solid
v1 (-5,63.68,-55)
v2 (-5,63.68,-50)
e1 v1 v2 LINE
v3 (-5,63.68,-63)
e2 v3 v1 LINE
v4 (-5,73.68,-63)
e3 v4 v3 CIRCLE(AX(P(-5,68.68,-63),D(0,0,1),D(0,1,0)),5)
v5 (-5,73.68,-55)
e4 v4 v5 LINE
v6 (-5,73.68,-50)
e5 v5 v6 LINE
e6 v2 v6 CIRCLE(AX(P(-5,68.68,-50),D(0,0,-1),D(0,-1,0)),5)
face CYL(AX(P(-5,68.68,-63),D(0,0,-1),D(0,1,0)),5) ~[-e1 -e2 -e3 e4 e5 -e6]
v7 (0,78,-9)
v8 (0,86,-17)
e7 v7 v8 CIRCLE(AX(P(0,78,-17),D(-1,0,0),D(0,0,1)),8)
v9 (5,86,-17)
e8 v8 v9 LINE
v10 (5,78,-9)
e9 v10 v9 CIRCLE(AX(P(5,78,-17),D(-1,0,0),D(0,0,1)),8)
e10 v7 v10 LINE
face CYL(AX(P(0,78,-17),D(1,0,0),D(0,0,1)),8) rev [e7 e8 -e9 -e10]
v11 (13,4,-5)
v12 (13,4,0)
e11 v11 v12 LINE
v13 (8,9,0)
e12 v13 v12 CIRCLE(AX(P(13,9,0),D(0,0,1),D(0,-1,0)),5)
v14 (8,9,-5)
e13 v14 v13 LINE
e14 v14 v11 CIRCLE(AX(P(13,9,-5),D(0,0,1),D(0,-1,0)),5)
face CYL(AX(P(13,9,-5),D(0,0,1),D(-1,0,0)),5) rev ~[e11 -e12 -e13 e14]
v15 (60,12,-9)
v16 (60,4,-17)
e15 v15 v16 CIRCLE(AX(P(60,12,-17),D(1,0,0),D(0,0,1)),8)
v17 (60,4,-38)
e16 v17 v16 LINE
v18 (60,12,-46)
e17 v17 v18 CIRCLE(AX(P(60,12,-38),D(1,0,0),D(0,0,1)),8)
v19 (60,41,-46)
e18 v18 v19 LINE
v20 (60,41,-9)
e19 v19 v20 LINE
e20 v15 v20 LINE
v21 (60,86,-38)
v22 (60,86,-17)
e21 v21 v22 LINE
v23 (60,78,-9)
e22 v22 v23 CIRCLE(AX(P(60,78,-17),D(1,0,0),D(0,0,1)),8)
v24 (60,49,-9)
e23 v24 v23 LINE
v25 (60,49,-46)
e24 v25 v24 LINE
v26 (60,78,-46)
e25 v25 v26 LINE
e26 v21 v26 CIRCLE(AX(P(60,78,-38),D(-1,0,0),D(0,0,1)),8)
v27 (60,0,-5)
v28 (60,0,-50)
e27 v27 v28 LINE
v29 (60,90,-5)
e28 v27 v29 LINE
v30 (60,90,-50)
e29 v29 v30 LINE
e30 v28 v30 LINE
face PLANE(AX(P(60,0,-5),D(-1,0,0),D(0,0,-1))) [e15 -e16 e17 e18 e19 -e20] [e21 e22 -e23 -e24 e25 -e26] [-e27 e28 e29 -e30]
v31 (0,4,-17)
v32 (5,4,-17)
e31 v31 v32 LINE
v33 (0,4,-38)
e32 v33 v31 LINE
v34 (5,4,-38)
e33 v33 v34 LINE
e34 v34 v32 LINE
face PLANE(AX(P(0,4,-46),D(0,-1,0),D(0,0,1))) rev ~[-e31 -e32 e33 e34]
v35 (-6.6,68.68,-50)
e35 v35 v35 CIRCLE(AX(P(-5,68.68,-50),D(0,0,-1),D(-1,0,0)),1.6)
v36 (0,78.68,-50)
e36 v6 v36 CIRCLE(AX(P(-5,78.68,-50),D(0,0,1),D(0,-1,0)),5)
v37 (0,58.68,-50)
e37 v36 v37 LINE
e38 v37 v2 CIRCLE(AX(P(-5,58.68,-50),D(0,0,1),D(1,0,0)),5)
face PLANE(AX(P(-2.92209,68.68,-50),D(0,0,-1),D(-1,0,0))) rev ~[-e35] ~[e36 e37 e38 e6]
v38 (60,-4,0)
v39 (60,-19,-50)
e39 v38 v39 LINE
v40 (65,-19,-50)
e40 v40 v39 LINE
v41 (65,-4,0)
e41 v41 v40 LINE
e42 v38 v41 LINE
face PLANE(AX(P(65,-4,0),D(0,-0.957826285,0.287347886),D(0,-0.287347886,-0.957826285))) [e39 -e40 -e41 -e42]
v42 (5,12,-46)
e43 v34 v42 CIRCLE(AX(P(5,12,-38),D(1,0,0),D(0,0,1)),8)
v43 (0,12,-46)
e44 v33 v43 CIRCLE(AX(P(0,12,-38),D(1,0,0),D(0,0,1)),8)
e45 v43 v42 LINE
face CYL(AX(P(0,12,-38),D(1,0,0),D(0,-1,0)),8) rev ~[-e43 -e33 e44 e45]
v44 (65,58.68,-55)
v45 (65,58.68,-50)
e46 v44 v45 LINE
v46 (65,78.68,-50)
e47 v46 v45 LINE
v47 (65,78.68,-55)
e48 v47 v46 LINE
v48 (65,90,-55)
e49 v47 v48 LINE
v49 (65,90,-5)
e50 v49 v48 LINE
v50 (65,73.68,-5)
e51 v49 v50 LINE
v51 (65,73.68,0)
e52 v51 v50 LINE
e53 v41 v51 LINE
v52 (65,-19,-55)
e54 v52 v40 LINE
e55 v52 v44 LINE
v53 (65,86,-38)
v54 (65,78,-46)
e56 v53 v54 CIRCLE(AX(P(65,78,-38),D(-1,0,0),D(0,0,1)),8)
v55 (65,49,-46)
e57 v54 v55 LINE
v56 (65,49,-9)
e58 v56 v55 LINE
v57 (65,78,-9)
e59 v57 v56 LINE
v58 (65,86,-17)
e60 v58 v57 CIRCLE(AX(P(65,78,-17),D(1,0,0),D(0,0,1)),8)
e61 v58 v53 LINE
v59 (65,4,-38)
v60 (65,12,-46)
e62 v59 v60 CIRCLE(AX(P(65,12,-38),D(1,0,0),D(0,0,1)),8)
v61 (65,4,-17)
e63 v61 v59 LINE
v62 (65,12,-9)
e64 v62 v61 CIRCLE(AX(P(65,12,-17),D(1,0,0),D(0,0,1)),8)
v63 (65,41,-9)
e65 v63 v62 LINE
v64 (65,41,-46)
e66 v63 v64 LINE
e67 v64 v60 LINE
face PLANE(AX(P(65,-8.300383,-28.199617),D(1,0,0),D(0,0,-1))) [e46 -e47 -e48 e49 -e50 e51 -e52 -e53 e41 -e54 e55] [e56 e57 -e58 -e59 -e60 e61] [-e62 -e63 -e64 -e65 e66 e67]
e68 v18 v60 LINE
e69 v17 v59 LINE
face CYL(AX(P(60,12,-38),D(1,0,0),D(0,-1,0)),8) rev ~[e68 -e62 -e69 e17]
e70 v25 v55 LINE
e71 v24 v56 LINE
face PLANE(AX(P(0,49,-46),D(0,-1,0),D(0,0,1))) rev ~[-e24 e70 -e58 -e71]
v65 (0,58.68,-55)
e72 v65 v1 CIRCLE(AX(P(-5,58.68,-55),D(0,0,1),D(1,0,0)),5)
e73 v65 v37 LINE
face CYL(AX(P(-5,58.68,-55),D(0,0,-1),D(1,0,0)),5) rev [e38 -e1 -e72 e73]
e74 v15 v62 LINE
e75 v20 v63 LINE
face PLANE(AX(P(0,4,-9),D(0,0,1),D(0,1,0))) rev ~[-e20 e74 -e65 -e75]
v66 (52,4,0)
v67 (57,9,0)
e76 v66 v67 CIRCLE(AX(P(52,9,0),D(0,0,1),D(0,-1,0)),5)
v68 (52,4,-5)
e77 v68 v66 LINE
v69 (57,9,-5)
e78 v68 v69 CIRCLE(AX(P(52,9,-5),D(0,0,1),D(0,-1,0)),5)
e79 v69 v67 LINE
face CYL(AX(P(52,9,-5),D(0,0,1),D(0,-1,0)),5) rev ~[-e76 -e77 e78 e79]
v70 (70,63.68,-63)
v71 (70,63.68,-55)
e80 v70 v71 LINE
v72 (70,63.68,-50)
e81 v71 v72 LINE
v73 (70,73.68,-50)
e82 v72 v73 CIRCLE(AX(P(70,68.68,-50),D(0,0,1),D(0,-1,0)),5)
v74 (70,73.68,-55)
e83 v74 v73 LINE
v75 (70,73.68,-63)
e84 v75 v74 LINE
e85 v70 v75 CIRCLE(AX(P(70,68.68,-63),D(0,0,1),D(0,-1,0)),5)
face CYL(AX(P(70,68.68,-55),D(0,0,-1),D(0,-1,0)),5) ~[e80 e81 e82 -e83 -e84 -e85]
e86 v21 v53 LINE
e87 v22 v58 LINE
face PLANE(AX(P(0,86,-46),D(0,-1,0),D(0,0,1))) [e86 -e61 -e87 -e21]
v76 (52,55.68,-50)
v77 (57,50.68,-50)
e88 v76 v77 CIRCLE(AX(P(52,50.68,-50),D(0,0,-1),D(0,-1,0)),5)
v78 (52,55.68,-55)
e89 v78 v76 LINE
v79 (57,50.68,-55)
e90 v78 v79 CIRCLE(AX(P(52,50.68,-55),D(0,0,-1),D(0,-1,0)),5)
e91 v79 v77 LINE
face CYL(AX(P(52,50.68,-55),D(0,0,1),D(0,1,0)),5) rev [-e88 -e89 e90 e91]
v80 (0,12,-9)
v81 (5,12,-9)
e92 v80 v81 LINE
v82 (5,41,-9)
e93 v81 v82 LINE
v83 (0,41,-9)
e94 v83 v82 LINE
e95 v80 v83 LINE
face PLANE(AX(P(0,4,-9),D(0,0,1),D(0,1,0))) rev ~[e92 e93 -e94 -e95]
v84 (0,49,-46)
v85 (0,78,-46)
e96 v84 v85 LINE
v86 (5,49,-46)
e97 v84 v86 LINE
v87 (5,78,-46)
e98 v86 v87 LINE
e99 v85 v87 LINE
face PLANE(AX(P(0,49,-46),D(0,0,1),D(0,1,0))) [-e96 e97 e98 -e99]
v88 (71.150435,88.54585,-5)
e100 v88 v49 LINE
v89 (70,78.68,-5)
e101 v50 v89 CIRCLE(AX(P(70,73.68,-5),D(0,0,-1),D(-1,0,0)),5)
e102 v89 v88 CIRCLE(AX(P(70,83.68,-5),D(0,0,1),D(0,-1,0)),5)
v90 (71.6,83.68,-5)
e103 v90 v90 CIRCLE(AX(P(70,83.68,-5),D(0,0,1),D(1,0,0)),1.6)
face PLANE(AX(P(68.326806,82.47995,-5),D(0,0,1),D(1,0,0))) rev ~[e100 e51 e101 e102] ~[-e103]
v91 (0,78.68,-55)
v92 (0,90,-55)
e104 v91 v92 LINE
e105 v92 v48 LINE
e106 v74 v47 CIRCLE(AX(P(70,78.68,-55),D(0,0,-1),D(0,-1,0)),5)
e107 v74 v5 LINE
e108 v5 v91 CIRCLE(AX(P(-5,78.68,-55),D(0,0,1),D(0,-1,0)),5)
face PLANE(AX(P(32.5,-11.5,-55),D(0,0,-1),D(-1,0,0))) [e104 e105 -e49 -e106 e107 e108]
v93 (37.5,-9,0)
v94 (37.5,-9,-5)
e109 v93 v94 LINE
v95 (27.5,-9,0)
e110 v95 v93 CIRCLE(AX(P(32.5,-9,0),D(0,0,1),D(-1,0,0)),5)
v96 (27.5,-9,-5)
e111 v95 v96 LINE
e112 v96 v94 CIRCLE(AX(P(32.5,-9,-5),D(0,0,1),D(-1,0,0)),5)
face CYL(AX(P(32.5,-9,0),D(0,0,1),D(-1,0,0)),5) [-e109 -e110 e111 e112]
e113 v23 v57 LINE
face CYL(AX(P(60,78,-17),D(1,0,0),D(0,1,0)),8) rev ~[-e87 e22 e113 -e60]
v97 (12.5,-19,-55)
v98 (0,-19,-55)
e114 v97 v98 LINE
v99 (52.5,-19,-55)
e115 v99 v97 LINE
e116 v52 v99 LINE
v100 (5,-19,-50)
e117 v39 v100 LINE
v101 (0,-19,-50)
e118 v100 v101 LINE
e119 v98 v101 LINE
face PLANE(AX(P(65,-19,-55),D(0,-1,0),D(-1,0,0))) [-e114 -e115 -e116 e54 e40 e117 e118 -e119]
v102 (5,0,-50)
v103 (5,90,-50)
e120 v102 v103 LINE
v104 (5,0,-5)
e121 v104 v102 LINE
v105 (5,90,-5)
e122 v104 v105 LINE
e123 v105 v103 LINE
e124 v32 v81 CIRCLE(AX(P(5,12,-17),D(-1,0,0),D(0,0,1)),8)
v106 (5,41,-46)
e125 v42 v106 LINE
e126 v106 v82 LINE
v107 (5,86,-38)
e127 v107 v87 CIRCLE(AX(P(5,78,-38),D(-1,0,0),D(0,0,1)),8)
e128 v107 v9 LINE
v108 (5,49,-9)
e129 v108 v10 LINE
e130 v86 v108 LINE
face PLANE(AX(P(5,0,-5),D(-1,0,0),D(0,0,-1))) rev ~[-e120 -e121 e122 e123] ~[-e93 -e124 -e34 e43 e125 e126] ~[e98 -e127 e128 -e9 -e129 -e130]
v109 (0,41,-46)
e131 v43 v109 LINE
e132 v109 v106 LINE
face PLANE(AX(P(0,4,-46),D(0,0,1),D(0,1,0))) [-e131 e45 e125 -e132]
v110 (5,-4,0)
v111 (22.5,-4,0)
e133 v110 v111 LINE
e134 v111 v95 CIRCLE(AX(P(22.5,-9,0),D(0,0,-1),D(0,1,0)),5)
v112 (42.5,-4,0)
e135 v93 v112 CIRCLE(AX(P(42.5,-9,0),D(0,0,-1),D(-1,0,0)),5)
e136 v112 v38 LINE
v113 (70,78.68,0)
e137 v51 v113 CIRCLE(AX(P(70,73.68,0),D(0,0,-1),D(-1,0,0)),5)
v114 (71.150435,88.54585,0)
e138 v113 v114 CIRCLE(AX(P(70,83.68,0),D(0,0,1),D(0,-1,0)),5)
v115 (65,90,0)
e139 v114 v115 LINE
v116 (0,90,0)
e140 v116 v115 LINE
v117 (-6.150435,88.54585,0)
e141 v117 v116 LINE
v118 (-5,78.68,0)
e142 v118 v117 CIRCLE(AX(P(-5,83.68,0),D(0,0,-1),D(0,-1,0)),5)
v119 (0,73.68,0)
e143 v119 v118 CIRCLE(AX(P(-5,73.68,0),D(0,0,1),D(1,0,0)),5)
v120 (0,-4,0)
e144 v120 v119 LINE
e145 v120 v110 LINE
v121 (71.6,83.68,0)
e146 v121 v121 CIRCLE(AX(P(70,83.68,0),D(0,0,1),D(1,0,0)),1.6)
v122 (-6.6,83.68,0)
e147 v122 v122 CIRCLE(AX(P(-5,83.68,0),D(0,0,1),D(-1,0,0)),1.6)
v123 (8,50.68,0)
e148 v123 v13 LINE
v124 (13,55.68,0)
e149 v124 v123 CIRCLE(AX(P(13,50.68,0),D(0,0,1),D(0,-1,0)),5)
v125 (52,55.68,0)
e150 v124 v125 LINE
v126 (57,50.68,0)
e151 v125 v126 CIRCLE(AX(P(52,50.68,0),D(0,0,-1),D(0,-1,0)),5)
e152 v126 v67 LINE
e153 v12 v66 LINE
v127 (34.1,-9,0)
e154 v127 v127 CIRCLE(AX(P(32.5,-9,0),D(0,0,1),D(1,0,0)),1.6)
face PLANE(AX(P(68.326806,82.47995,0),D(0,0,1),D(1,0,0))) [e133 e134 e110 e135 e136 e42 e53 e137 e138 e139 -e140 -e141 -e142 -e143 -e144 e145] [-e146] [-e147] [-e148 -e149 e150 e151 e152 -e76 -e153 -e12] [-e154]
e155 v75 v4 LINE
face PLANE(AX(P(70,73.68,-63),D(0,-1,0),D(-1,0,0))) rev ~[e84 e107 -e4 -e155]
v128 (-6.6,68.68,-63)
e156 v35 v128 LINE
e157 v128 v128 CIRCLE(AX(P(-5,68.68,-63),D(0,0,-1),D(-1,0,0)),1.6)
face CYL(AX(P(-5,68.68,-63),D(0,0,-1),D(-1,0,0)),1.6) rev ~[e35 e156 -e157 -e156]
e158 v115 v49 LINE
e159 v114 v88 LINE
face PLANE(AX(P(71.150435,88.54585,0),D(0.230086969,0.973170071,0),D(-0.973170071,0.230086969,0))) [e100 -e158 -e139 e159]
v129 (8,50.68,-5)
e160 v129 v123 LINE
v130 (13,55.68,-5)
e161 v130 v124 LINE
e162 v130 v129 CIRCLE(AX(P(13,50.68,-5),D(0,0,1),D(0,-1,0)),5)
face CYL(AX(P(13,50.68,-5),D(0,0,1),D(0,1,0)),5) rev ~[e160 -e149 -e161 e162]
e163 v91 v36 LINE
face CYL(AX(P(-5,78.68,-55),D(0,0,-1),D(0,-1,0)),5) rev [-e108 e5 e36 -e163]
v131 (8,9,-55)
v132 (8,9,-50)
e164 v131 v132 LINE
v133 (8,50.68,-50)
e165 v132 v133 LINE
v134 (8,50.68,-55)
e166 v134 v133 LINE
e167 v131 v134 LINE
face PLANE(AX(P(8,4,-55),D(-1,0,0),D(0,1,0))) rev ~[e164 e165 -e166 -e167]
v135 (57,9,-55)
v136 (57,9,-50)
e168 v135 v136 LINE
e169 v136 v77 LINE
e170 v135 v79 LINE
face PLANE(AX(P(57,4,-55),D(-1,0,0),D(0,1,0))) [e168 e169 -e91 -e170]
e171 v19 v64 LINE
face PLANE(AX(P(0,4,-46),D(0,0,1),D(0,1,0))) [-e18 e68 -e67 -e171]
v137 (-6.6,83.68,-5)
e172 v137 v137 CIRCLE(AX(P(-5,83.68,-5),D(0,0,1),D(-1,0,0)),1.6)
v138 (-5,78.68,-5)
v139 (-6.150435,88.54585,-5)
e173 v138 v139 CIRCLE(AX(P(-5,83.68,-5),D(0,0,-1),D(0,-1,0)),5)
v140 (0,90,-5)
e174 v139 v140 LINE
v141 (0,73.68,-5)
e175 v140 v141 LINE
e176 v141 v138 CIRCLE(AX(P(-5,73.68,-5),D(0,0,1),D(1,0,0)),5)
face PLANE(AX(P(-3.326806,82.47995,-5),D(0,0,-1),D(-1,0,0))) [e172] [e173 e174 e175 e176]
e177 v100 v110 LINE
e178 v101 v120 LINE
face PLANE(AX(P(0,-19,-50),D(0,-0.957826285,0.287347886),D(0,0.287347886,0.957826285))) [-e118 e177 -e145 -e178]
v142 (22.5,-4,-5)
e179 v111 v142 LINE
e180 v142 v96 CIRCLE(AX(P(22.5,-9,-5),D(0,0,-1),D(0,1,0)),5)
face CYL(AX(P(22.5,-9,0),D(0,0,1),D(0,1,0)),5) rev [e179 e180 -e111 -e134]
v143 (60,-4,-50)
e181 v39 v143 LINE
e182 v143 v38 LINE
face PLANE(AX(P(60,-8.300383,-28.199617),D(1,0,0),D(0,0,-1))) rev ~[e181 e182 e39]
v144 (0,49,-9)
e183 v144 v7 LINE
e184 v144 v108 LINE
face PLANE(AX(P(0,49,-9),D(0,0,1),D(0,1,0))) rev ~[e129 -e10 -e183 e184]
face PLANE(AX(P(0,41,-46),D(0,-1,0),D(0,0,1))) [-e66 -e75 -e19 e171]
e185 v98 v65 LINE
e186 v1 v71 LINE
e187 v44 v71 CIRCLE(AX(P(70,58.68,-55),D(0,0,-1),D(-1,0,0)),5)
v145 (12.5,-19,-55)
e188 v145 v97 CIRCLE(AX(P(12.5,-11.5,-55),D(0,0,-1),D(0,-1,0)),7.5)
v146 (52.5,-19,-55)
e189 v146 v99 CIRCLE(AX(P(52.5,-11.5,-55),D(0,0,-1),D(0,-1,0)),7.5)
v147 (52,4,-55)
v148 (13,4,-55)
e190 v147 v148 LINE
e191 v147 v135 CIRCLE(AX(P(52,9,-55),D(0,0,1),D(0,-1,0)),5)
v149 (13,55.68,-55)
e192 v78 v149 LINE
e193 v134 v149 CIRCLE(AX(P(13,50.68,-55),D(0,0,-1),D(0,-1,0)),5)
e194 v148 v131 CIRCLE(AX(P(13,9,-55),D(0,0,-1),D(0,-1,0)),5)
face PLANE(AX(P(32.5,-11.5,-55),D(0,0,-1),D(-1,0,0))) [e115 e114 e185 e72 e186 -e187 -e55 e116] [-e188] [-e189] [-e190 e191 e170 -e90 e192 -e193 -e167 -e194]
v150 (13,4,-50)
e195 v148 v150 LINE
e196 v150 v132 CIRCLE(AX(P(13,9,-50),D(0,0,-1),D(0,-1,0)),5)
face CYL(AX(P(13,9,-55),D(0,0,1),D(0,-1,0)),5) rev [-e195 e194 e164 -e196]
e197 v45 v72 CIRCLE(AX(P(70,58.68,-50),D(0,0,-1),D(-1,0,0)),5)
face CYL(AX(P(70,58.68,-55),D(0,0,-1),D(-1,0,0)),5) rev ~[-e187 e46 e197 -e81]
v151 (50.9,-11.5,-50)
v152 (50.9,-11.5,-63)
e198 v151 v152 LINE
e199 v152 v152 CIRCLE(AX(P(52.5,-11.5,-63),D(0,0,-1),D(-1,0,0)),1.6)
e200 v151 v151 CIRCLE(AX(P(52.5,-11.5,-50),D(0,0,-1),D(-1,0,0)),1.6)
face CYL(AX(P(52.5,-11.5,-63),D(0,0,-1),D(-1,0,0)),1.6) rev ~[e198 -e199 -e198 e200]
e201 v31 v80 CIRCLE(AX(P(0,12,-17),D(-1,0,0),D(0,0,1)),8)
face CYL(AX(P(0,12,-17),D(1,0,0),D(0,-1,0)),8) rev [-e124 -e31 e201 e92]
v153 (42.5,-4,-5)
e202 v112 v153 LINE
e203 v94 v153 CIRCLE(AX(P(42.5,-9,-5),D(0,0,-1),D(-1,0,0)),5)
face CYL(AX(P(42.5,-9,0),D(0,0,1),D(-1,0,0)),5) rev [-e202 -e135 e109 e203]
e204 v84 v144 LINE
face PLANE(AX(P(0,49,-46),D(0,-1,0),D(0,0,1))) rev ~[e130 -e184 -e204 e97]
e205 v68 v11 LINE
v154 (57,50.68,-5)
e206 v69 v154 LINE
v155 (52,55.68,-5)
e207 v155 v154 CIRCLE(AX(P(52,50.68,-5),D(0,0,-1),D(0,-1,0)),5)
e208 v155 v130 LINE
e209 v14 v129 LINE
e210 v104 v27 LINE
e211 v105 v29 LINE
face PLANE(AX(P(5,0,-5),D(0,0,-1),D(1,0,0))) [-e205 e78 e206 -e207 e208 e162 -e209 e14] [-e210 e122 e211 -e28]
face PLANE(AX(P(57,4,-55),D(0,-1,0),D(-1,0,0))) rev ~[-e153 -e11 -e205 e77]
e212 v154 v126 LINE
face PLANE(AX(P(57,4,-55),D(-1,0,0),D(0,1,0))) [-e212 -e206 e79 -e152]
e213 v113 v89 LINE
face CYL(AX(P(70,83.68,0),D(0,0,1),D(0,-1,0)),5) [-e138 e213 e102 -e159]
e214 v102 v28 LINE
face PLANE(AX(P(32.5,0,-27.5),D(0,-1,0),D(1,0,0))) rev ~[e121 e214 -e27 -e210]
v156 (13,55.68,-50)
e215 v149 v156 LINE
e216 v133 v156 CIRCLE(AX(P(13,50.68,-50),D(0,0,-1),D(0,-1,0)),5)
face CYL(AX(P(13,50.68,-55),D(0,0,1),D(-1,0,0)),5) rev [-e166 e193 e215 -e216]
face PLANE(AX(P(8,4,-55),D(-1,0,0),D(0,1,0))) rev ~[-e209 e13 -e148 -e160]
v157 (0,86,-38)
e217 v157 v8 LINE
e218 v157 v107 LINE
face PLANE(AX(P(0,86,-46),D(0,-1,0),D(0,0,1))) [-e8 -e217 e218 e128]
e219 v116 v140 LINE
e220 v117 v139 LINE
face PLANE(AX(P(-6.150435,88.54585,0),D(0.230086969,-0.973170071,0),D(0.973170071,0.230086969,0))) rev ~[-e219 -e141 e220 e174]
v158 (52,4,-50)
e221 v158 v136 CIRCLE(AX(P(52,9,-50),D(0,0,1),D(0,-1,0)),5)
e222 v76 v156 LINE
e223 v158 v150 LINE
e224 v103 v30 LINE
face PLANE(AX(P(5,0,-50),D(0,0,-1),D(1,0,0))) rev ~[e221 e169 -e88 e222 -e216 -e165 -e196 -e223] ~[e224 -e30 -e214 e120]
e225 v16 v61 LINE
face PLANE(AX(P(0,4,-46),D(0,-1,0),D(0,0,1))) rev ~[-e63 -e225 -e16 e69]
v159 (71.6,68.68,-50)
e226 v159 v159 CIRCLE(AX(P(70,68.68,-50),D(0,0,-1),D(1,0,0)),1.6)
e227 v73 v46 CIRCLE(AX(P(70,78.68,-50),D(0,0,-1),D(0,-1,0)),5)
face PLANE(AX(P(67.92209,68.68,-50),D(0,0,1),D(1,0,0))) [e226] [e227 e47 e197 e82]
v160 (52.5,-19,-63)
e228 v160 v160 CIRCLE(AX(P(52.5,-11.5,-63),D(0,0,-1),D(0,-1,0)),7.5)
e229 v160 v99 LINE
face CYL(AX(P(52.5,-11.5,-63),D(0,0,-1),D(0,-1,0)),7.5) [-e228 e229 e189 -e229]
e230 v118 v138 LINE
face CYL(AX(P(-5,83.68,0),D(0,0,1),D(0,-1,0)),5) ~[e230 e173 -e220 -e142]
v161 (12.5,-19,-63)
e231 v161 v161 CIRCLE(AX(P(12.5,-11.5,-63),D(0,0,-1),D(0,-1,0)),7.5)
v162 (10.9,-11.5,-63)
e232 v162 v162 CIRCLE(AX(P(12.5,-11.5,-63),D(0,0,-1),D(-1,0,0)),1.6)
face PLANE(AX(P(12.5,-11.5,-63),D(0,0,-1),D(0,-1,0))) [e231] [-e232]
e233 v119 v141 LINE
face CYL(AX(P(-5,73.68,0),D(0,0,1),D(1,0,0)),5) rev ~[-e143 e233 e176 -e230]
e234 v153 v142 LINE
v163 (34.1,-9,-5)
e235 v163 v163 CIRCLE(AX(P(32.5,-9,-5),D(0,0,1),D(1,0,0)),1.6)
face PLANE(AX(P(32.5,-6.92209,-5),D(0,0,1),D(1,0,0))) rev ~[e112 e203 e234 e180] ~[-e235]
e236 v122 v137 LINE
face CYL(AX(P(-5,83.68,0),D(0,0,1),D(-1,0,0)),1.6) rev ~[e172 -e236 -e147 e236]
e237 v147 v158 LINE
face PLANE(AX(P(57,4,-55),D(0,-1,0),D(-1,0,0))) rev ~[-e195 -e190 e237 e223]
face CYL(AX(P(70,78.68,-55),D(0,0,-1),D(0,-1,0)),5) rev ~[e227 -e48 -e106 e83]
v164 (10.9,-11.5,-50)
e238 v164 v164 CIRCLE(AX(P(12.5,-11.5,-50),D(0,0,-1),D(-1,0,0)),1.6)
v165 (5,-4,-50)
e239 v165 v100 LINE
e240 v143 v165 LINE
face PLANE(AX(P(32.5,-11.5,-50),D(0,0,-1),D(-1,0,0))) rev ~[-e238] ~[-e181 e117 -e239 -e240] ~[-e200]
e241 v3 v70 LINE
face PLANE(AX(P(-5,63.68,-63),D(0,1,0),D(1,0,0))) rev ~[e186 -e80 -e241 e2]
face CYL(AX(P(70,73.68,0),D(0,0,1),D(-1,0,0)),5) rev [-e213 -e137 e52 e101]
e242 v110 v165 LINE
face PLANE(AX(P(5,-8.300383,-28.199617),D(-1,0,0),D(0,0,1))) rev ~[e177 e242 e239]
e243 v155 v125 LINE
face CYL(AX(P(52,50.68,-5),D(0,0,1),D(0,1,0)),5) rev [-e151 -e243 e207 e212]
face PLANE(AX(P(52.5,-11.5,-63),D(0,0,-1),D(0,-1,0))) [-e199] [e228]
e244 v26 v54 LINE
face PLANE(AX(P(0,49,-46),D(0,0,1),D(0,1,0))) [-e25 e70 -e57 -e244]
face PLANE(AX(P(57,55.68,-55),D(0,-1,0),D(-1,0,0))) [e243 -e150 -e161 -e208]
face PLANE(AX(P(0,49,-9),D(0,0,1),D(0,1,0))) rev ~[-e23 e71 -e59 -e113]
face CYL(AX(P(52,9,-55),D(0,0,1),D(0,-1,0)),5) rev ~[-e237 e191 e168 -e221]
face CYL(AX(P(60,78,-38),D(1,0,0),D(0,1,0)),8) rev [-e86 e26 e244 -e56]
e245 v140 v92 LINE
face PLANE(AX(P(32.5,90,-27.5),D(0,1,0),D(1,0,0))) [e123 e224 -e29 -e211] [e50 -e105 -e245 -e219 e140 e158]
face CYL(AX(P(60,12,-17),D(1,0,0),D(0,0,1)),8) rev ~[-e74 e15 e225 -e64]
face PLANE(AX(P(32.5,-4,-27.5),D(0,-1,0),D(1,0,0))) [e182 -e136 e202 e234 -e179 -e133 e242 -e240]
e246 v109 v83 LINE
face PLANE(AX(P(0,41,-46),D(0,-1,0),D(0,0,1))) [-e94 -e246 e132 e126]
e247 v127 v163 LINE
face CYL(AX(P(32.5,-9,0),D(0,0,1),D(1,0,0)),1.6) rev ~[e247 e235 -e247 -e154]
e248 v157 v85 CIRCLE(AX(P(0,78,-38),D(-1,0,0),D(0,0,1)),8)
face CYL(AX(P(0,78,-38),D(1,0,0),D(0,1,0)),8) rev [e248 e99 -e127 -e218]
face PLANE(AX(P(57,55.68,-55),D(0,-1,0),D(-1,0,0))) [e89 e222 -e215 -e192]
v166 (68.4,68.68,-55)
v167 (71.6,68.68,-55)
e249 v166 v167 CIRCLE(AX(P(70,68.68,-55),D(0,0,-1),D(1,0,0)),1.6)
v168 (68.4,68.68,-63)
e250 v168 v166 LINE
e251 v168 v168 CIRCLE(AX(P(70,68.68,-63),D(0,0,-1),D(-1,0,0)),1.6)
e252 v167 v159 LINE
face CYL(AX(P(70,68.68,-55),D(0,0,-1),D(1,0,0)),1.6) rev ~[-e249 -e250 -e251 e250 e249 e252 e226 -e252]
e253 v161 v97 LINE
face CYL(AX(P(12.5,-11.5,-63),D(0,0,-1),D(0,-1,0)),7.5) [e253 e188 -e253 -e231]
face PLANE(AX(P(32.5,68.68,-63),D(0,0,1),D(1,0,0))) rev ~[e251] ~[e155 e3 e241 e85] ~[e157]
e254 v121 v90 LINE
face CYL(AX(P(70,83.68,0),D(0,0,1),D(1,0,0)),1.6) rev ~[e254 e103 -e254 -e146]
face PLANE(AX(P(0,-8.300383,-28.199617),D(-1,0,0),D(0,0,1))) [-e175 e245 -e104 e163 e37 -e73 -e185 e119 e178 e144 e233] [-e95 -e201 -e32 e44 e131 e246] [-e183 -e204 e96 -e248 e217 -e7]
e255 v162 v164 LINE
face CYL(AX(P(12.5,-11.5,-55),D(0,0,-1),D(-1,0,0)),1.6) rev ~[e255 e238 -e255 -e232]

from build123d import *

# Parameters (mm, degrees)
SKETCH_1_W          = 65
SKETCH_1_H          = 55
SKETCH_1_W_2        = 55
SKETCH_1_H_2        = 45
EXTRUDE_1_DEPTH     = 90
SKETCH_2_W          = 65
SKETCH_2_H          = 55
EXTRUDE_2_DEPTH     = 4
SKETCH_3_W          = 65
SKETCH_3_H          = 15
EXTRUDE_3_DEPTH     = 5
EXTRUDE_4_DEPTH     = 5
EXTRUDE_5_DEPTH     = 5
SKETCH_6_R          = 1.6
CUT_EXTRUDE_1_DEPTH = 124.895116934
SKETCH_7_R          = 1.6
EXTRUDE_6_DEPTH     = 5
SKETCH_8_R          = 1.6
EXTRUDE_7_DEPTH     = 5
EXTRUDE_START       = 8
SKETCH_9_R          = 7.5
SKETCH_9_R_2        = 1.6
EXTRUDE_9_DEPTH     = 8
SKETCH_10_W         = 49
SKETCH_10_H         = 51.68
CUT_EXTRUDE_2_DEPTH = 130.421791055
SKETCH_12_W         = 37
SKETCH_12_H         = 37
CUT_EXTRUDE_3_DEPTH = 134.018795664
FILLET_2_R          = 8
FILLET_3_R          = 5


with BuildPart() as part:
    # 草图1 → 凸台-拉伸1 (new body)
    with BuildSketch(Plane(origin=(0, 0, 0), x_dir=(1, 0, 0), z_dir=(0, 1, 0))):
        with Locations((32.5, 27.5)):
            Rectangle(SKETCH_1_W, SKETCH_1_H)
        with Locations((32.5, 27.5)):
            Rectangle(SKETCH_1_W_2, SKETCH_1_H_2, mode=Mode.SUBTRACT)
    extrude(amount=EXTRUDE_1_DEPTH)

    # 草图2 → 凸台-拉伸2 (add)
    with BuildSketch(Plane.XZ):
        with Locations((32.5, -27.5)):
            Rectangle(SKETCH_2_W, SKETCH_2_H)
    extrude(amount=EXTRUDE_2_DEPTH)

    # 草图3 → 凸台-拉伸3 (add)
    with BuildSketch(Plane(origin=(0, 0, -55), x_dir=(-1, 0, 0), z_dir=(0, 0, -1))):
        with Locations((-32.5, -11.5)):
            Rectangle(SKETCH_3_W, SKETCH_3_H)
    extrude(amount=-EXTRUDE_3_DEPTH)

    # 草图4 → 凸台-拉伸4 (add)
    with BuildSketch(Plane(origin=(65, 0, 0), x_dir=(0, 0, -1), z_dir=(1, 0, 0))):
        Polygon((0, -4), (50, -19), (50, -4), align=None)
    extrude(amount=-EXTRUDE_4_DEPTH)

    # 草图5 → 凸台-拉伸5 (add)
    with BuildSketch(Plane.ZY):
        Polygon((-50, -19), (0, -4), (-50, -4), align=None)
    extrude(amount=-EXTRUDE_5_DEPTH)

    # 草图6 → 切除-拉伸1 (cut, through all)
    with BuildSketch(Plane(origin=(0, 0, -55), x_dir=(-1, 0, 0), z_dir=(0, 0, -1))):
        with Locations((-12.5, -11.5)):
            Circle(SKETCH_6_R)
        with Locations((-52.5, -11.5)):
            Circle(SKETCH_6_R)
    extrude(amount=-CUT_EXTRUDE_1_DEPTH, mode=Mode.SUBTRACT)

    # 草图7 → 凸台-拉伸6 (add)
    # profile 1 of 2: a face of its own
    with BuildSketch(Plane(origin=(0, 0, -55), x_dir=(-1, 0, 0), z_dir=(0, 0, -1))):
        with BuildLine():
            Line((0, 78.68), (0, 58.68))
            ThreePointArc((0, 58.68), (1.464466094, 62.215533906), (5, 63.68))
            ThreePointArc((5, 63.68), (10, 68.68), (5, 73.68))
            ThreePointArc((5, 73.68), (1.464466094, 75.144466094), (0, 78.68))
        make_face()
        with Locations((5, 68.68)):
            Circle(SKETCH_7_R, mode=Mode.SUBTRACT)
    # profile 2 of 2: a face of its own
    with BuildSketch(Plane(origin=(0, 0, -55), x_dir=(-1, 0, 0), z_dir=(0, 0, -1))):
        with BuildLine():
            Line((-65, 78.68), (-65, 58.68))
            ThreePointArc((-65, 58.68), (-66.464466094, 62.215533906), (-70, 63.68))
            ThreePointArc((-70, 63.68), (-75, 68.68), (-70, 73.68))
            ThreePointArc((-70, 73.68), (-66.464466094, 75.144466094), (-65, 78.68))
        make_face()
        with Locations(Location((-70, 68.68, 0), (0, 0, 180))):
            Circle(SKETCH_7_R, mode=Mode.SUBTRACT)
    extrude(amount=-EXTRUDE_6_DEPTH)

    # 草图8 → 凸台-拉伸7 (add)
    # profile 1 of 3: a face of its own
    with BuildSketch(Plane.XY):
        with BuildLine():
            Line((71.150434847, 88.545850354), (65, 90))
            Line((65, 90), (65, 73.68))
            ThreePointArc((65, 73.68), (66.464466094, 77.215533906), (70, 78.68))
            ThreePointArc((70, 78.68), (74.966349352, 83.100885058), (71.150434847, 88.545850354))
        make_face()
        with Locations((70, 83.68)):
            Circle(SKETCH_8_R, mode=Mode.SUBTRACT)
    # profile 2 of 3: a face of its own
    with BuildSketch(Plane.XY):
        with BuildLine():
            Line((0, 90), (0, 73.68))
            ThreePointArc((0, 73.68), (-1.464466094, 77.215533906), (-5, 78.68))
            ThreePointArc((-5, 78.68), (-9.966349352, 83.100885058), (-6.150434847, 88.545850354))
            Line((-6.150434847, 88.545850354), (0, 90))
        make_face()
        with Locations(Location((-5, 83.68, 0), (0, 0, 180))):
            Circle(SKETCH_8_R, mode=Mode.SUBTRACT)
    # profile 3 of 3: a face of its own
    with BuildSketch(Plane.XY):
        with BuildLine():
            Line((42.5, -4), (22.5, -4))
            ThreePointArc((22.5, -4), (26.035533906, -5.464466094), (27.5, -9))
            ThreePointArc((27.5, -9), (32.5, -14), (37.5, -9))
            ThreePointArc((37.5, -9), (38.964466094, -5.464466094), (42.5, -4))
        make_face()
        with Locations((32.5, -9)):
            Circle(SKETCH_8_R, mode=Mode.SUBTRACT)
    extrude(amount=-EXTRUDE_7_DEPTH)

    # 草图9 → 凸台-拉伸9 (add)
    # profile 1 of 3: a face of its own
    with BuildSketch(Plane(origin=(0, 0, -55), x_dir=(-1, 0, 0), z_dir=(0, 0, -1)).offset(EXTRUDE_START)):
        with Locations(Location((-52.5, -11.5, 0), (0, 0, 270))):
            Circle(SKETCH_9_R)
        with Locations((-52.5, -11.5)):
            Circle(SKETCH_9_R_2, mode=Mode.SUBTRACT)
    # profile 2 of 3: a face of its own
    with BuildSketch(Plane(origin=(0, 0, -55), x_dir=(-1, 0, 0), z_dir=(0, 0, -1)).offset(EXTRUDE_START)):
        with Locations(Location((-12.5, -11.5, 0), (0, 0, 270))):
            Circle(SKETCH_9_R)
        with Locations((-12.5, -11.5)):
            Circle(SKETCH_9_R_2, mode=Mode.SUBTRACT)
    # profile 3 of 3: a face of its own
    with BuildSketch(Plane(origin=(0, 0, -55), x_dir=(-1, 0, 0), z_dir=(0, 0, -1)).offset(EXTRUDE_START)):
        with BuildLine():
            Line((-70, 73.68), (5, 73.68))
            ThreePointArc((5, 73.68), (10, 68.68), (5, 63.68))
            Line((5, 63.68), (-70, 63.68))
            ThreePointArc((-70, 63.68), (-75, 68.68), (-70, 73.68))
        make_face()
        with Locations((5, 68.68)):
            Circle(SKETCH_9_R_2, mode=Mode.SUBTRACT)
        with Locations((-70, 68.68)):
            Circle(SKETCH_9_R_2, mode=Mode.SUBTRACT)
    extrude(amount=-EXTRUDE_9_DEPTH)

    # 草图10 → 切除-拉伸2 (cut, through all)
    with BuildSketch(Plane(origin=(0, 0, -55), x_dir=(-1, 0, 0), z_dir=(0, 0, -1))):
        with Locations((-32.5, 29.84)):
            Rectangle(SKETCH_10_W, SKETCH_10_H)
    extrude(amount=-CUT_EXTRUDE_2_DEPTH, mode=Mode.SUBTRACT)

    # 草图12 → 切除-拉伸3 (cut, through all)
    with BuildSketch(Plane.ZY):
        with Locations((-27.5, 67.5)):
            Rectangle(SKETCH_12_W, SKETCH_12_H)
        with Locations((-27.5, 22.5)):
            Rectangle(SKETCH_12_W, SKETCH_12_H)
    extrude(amount=-CUT_EXTRUDE_3_DEPTH, mode=Mode.SUBTRACT)

    # 圆角2
    fillet_2_edges = [part.edges().sort_by_distance(p)[0] for p in [
        (62.5, 4, -46),
        (2.5, 4, -46),
        (62.5, 4, -9),
        (2.5, 4, -9),
        (62.5, 86, -46),
        (2.5, 86, -46),
        (62.5, 86, -9),
        (2.5, 86, -9),
    ]]
    fillet(fillet_2_edges, radius=FILLET_2_R)

    # 圆角3
    fillet_3_edges = [part.edges().sort_by_distance(p)[0] for p in [
        (57, 55.68, -2.5),
        (8, 55.68, -2.5),
        (8, 4, -2.5),
        (57, 4, -2.5),
        (57, 55.68, -52.5),
        (8, 55.68, -52.5),
        (8, 4, -52.5),
        (57, 4, -52.5),
    ]]
    fillet(fillet_3_edges, radius=FILLET_3_R)


solid = part.part
